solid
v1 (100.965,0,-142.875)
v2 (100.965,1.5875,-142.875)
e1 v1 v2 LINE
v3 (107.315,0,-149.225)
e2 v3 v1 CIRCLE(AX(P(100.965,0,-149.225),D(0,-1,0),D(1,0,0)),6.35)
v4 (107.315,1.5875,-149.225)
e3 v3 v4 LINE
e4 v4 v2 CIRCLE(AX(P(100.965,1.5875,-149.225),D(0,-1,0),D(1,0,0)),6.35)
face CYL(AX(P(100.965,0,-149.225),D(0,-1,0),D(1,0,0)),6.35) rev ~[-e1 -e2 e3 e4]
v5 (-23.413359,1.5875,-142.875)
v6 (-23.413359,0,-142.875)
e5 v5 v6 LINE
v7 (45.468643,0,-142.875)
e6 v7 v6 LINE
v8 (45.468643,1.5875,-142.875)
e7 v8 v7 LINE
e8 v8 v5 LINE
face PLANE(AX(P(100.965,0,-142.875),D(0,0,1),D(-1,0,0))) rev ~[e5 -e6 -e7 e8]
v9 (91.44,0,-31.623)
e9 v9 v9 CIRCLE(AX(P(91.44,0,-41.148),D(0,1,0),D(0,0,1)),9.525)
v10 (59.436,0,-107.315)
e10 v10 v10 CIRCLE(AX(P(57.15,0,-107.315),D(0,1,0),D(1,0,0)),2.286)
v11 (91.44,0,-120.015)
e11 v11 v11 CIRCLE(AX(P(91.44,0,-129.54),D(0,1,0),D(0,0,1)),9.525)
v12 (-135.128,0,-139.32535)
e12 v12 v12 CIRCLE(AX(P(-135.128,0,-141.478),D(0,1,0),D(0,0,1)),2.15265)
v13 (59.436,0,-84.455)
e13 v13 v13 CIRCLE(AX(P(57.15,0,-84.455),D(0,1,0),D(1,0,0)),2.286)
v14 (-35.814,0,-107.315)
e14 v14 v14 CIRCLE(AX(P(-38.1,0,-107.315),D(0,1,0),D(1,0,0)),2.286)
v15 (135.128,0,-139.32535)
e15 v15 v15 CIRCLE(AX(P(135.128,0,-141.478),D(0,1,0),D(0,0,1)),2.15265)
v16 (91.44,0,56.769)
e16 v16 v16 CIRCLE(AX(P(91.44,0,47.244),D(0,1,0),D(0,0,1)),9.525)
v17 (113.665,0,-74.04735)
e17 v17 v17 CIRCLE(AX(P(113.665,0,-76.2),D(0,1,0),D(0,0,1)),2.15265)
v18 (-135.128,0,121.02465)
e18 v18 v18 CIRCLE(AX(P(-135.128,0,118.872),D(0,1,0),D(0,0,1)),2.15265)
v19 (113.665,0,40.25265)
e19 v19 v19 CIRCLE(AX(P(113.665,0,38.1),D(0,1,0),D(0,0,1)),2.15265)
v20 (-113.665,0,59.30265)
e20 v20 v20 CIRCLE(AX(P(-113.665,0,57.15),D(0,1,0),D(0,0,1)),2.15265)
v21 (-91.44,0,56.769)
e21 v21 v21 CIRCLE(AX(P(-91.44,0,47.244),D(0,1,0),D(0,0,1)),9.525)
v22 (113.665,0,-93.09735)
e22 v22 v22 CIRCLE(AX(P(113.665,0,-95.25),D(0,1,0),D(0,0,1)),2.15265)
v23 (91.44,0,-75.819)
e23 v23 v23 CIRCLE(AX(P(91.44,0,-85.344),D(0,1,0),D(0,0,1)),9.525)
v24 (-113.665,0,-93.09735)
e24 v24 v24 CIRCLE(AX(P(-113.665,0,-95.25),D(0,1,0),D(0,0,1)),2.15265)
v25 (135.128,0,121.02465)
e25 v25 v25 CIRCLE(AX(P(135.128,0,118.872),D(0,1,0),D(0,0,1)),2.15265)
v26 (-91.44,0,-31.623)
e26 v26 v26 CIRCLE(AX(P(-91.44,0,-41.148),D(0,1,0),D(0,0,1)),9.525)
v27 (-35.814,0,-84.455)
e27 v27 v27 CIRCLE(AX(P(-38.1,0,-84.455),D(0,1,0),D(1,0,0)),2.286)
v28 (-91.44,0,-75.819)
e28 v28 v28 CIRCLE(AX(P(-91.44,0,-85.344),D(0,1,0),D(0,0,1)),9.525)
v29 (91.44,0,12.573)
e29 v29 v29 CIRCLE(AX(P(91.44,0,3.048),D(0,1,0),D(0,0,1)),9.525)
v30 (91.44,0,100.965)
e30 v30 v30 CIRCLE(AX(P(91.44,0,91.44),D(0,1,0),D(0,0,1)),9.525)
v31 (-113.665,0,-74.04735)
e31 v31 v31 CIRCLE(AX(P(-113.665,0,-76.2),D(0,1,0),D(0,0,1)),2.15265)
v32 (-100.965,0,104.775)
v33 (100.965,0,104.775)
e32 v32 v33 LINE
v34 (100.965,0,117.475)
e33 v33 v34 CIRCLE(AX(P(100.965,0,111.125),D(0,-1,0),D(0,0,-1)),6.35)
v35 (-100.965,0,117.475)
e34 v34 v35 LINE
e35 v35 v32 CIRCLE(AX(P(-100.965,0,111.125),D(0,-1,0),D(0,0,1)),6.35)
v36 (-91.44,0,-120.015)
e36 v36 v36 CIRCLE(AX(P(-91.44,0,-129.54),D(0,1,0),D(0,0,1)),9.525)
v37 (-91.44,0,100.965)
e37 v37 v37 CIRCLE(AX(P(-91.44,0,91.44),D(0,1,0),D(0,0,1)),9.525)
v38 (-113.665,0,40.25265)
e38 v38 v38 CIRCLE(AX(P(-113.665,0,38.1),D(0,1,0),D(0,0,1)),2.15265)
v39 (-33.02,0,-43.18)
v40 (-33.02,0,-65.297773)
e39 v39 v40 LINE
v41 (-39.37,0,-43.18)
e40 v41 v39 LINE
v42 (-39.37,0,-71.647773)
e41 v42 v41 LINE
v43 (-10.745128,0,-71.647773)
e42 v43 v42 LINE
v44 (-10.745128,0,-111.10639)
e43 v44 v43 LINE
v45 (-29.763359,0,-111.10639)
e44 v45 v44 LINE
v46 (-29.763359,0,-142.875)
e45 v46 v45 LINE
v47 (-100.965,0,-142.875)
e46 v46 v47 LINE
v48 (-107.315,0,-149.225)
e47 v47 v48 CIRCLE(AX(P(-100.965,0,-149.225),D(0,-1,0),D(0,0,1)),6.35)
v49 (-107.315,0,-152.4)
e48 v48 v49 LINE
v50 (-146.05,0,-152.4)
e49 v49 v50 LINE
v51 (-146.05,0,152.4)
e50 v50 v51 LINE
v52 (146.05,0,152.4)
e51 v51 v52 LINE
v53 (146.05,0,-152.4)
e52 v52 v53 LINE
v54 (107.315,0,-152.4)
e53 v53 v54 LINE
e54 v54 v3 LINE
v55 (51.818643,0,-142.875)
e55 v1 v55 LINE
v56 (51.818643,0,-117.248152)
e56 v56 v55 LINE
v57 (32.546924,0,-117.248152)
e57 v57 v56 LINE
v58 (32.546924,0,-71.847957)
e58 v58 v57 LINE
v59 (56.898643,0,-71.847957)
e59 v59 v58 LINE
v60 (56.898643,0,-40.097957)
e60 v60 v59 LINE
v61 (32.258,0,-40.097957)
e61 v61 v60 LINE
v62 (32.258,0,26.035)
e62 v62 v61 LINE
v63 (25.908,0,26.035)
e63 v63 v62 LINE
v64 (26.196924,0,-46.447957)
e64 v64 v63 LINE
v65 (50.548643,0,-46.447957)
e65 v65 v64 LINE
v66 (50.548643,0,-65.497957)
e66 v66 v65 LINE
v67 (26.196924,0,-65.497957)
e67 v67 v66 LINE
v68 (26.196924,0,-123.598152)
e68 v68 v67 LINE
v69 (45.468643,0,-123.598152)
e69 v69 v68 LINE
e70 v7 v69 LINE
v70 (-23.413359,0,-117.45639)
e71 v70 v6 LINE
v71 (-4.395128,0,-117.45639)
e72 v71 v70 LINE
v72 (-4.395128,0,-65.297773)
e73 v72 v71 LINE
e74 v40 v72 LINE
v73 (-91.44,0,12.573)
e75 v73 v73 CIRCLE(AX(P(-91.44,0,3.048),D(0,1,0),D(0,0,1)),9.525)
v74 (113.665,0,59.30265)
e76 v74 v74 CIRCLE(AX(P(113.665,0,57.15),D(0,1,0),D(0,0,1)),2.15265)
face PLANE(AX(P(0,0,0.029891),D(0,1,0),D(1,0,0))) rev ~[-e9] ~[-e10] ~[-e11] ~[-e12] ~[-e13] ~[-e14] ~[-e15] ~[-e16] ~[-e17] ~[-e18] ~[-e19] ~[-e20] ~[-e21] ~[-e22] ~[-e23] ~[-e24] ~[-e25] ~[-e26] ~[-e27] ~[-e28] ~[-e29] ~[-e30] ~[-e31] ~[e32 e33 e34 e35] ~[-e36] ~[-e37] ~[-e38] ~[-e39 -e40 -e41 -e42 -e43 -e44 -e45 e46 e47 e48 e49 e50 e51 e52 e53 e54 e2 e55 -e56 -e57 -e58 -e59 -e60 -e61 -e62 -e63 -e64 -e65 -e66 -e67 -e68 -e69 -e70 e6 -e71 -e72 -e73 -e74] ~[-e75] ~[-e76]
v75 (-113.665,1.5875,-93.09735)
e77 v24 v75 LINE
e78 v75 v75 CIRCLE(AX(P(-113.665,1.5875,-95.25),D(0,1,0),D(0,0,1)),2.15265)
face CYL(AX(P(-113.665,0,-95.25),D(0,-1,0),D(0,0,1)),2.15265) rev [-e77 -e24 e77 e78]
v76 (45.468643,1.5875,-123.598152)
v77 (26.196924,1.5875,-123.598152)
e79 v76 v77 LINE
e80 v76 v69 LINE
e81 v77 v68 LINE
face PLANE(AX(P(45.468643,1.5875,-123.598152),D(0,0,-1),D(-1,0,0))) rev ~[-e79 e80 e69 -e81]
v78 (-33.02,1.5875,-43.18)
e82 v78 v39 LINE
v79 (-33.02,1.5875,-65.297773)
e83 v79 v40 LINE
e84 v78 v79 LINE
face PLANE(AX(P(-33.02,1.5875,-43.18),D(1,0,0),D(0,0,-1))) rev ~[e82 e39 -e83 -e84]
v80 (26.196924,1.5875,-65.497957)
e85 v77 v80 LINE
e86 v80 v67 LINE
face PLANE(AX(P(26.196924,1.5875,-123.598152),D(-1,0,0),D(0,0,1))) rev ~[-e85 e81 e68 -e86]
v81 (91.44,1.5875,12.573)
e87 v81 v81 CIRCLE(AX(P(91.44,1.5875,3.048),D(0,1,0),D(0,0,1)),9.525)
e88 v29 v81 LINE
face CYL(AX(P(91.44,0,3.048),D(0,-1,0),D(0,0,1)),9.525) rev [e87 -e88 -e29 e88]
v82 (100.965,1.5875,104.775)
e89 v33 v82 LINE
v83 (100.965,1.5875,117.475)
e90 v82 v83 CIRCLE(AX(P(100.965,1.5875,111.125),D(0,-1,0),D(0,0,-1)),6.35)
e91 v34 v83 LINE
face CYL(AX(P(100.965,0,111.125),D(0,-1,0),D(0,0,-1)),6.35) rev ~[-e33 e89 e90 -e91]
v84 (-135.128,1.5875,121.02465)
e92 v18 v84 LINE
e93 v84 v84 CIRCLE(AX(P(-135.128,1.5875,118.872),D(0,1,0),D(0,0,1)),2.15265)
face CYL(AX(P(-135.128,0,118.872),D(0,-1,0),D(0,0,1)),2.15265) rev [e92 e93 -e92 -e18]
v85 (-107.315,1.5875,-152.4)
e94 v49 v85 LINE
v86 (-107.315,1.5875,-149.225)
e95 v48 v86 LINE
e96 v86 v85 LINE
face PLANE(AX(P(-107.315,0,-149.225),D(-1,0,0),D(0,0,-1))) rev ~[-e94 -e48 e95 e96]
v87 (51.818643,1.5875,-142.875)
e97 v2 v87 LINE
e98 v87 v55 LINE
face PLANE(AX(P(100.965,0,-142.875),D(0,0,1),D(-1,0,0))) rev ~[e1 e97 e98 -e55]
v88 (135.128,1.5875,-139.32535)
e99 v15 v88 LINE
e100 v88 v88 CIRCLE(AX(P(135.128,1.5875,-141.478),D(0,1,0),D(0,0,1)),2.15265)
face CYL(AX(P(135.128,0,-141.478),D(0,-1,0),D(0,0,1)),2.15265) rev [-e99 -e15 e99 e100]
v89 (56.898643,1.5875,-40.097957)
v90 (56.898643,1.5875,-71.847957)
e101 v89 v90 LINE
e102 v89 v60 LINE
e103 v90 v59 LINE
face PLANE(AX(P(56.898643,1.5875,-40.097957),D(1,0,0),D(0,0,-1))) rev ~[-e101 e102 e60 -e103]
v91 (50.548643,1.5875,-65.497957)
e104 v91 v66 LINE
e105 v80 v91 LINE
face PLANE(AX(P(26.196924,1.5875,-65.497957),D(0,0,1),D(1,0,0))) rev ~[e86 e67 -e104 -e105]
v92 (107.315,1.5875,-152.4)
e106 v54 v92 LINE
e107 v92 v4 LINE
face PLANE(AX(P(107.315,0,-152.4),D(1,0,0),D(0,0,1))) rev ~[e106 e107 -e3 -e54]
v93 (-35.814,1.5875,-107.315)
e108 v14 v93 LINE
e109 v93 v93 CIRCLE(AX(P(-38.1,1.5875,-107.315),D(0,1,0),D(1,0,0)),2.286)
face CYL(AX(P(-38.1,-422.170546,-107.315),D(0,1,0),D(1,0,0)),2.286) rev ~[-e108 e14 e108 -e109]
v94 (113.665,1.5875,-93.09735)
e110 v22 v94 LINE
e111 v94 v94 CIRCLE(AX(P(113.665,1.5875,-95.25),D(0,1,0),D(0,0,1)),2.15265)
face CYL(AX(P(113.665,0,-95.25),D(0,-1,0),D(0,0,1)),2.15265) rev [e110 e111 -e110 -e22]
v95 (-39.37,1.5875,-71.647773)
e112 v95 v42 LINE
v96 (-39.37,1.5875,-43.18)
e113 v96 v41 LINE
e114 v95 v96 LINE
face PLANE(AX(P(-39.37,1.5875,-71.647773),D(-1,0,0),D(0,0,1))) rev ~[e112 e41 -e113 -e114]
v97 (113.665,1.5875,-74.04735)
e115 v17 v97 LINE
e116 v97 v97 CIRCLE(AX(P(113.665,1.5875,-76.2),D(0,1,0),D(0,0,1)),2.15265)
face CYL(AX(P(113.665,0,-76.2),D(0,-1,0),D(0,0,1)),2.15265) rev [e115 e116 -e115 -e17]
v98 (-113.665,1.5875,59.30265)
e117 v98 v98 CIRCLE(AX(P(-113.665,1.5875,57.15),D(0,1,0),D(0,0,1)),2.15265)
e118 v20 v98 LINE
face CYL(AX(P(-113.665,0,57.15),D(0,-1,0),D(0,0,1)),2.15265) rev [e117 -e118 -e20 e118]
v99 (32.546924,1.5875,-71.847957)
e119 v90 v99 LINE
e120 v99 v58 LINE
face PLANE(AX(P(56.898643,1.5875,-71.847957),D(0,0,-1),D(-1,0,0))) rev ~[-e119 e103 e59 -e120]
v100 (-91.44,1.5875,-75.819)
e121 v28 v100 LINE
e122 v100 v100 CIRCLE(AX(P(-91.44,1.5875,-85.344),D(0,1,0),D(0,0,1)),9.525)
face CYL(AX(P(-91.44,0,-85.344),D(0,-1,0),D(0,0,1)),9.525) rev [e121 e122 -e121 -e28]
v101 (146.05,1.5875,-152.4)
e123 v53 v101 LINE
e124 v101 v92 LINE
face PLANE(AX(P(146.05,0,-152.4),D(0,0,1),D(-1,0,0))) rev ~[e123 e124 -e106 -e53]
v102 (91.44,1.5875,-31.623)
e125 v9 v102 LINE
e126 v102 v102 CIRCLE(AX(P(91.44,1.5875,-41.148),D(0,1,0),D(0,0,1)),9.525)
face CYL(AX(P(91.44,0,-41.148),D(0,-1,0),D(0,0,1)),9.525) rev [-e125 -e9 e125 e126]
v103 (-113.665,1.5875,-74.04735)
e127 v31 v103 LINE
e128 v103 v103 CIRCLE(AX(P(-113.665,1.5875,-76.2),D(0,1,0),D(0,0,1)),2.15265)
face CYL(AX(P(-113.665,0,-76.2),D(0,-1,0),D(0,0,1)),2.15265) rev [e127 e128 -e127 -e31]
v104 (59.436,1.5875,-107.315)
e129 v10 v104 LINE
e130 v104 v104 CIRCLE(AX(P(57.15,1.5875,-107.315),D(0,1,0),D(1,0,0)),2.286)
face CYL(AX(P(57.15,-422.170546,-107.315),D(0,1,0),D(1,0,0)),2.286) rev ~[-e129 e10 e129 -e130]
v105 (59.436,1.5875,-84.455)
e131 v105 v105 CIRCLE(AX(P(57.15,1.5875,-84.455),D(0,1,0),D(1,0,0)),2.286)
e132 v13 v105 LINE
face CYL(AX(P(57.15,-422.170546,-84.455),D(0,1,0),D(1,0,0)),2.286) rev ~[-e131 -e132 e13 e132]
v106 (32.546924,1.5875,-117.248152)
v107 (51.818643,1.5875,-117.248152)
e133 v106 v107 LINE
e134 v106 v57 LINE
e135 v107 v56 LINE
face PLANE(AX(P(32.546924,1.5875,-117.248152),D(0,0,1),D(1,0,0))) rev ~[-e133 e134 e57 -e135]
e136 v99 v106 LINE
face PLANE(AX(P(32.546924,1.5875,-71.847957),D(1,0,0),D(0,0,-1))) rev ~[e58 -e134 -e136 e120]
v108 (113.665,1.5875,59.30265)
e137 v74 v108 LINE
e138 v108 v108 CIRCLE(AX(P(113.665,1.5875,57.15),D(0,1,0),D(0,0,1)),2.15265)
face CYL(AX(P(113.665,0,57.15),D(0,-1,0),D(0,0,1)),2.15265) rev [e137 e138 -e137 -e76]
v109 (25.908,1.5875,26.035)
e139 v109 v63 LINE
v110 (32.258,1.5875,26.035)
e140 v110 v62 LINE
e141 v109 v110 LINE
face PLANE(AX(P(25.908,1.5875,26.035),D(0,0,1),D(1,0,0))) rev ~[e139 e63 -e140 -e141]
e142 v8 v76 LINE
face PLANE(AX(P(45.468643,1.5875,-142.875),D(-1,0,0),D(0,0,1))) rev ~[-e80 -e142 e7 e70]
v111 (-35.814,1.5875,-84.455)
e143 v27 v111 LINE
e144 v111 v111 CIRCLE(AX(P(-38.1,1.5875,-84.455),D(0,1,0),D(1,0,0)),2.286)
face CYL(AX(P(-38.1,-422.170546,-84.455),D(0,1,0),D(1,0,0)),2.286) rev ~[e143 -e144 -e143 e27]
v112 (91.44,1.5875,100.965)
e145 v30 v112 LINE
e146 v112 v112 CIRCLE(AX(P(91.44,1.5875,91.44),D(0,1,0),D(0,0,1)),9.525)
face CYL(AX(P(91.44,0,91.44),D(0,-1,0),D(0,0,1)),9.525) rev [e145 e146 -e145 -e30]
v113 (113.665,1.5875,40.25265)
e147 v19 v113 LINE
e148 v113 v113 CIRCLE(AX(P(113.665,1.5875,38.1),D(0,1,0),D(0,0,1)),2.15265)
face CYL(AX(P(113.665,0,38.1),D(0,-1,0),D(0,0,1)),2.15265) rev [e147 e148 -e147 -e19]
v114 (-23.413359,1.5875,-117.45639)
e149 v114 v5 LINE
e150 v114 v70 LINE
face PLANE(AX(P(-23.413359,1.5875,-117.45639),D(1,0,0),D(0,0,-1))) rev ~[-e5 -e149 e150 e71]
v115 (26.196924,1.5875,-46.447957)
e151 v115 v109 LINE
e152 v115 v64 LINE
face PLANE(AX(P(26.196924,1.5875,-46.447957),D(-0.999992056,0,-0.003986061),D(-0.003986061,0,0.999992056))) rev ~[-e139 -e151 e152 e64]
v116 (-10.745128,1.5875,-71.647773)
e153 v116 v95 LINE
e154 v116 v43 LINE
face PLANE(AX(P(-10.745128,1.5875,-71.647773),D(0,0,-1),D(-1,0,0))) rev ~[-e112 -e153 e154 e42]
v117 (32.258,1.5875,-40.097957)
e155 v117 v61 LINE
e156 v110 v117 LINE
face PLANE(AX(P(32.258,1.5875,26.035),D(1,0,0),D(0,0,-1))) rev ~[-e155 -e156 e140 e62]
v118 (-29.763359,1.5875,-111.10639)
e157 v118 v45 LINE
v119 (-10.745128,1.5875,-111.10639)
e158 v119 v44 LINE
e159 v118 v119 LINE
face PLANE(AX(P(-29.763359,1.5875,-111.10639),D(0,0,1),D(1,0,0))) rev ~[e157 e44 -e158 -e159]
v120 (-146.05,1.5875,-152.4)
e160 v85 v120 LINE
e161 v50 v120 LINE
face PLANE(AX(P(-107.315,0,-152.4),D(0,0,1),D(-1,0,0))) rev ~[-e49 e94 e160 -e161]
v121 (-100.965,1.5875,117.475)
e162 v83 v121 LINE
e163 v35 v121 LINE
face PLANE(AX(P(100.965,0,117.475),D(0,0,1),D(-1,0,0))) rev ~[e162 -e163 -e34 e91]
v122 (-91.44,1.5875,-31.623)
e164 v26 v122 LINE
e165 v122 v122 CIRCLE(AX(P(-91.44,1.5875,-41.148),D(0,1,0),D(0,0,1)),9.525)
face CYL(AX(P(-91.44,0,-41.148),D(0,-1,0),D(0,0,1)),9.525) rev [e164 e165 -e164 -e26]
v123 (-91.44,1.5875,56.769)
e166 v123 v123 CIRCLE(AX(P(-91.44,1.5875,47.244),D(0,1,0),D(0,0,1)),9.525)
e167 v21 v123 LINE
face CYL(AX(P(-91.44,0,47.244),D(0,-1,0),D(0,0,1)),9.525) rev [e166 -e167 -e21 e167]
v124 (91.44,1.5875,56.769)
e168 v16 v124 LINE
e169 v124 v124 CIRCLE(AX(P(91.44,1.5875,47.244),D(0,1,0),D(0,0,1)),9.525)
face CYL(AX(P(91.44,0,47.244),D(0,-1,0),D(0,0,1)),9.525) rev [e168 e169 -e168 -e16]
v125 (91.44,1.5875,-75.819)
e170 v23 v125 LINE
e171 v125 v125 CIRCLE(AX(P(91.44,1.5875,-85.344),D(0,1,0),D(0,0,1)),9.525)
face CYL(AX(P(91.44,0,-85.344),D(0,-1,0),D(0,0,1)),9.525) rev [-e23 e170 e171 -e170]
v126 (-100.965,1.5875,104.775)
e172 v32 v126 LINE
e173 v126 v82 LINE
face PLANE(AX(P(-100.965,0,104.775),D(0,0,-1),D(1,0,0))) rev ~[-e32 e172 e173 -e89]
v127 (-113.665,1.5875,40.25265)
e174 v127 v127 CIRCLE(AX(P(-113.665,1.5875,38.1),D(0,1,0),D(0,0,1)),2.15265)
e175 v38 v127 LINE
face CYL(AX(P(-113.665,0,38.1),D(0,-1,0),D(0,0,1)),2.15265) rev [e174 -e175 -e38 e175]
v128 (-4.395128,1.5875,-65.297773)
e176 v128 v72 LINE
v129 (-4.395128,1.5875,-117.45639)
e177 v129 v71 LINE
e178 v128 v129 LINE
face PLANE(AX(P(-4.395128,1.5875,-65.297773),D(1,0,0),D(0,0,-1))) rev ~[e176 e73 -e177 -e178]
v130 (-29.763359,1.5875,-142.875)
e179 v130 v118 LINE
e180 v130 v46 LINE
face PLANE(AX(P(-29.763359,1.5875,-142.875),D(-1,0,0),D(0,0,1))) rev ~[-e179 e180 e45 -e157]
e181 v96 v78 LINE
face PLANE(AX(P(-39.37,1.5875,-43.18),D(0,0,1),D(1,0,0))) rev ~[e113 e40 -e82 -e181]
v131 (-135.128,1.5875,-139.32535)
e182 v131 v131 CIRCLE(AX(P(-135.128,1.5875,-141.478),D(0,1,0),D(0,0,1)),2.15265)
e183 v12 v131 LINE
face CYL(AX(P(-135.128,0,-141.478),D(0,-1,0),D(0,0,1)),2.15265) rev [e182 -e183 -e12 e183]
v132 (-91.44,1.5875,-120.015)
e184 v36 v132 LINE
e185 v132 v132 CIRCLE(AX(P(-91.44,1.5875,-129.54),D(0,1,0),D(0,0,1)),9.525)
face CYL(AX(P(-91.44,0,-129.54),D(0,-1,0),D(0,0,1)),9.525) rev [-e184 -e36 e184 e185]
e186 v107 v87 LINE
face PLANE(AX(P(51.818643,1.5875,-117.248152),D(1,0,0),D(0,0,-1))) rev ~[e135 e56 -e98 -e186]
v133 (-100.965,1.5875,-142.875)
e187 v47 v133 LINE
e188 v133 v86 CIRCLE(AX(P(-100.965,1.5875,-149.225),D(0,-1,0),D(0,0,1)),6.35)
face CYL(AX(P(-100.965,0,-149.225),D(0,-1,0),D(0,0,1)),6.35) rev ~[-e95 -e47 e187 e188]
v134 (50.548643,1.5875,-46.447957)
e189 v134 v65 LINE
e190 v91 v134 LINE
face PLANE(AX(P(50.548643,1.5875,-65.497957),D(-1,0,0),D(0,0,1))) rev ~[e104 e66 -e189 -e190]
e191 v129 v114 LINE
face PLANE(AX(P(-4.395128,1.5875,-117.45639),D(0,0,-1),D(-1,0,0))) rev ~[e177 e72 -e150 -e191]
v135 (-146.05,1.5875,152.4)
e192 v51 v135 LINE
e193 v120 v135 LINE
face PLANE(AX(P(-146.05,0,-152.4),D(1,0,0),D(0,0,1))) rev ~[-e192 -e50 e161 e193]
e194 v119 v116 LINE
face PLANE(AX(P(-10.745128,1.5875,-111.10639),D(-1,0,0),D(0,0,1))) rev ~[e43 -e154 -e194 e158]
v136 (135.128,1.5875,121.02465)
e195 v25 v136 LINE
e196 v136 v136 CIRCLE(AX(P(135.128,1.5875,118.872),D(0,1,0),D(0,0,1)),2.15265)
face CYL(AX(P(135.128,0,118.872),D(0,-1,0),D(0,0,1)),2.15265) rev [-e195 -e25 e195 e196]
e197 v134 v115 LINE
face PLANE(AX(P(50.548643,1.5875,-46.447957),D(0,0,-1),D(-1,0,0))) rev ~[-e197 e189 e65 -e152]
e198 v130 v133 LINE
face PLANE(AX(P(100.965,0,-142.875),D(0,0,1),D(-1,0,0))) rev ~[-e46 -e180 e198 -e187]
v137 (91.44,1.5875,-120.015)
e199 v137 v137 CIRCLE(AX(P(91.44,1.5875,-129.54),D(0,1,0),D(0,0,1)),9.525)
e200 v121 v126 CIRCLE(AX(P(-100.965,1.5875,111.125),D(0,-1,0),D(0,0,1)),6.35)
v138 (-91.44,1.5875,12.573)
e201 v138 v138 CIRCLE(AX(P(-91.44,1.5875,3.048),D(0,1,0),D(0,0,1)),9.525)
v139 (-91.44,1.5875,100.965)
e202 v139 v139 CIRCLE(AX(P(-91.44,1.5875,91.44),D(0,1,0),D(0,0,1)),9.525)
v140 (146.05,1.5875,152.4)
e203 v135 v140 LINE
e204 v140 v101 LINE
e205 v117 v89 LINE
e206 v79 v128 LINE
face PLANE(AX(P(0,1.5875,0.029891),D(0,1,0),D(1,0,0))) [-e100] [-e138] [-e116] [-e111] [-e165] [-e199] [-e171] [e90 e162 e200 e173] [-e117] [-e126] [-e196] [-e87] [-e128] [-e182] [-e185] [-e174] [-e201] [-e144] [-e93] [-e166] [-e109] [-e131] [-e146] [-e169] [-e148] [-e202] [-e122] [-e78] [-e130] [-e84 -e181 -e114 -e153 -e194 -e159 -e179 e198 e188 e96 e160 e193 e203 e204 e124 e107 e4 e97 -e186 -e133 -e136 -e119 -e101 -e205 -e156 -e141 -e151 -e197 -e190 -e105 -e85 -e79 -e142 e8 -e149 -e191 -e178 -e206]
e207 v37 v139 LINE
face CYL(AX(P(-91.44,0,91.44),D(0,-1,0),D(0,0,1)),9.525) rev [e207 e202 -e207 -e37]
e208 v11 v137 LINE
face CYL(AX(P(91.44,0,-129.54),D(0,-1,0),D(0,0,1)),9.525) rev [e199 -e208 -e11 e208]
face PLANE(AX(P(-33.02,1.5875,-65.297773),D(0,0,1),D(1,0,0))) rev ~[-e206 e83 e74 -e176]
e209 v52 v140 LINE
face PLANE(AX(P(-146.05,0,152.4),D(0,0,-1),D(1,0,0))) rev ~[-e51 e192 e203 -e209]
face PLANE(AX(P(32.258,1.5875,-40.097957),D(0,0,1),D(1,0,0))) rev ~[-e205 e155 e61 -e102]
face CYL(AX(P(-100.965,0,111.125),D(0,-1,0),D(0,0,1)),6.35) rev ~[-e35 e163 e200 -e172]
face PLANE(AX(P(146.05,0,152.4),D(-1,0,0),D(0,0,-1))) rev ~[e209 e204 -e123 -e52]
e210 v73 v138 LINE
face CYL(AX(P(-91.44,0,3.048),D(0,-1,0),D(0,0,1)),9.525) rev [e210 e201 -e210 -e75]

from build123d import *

# Parameters (mm, degrees)
SKETCH1_R                     = 2.15265
SKETCH1_R_2                   = 9.525
BOSS_EXTRUDE1_DEPTH           = 1.5875
CUT_EXTRUDE1_DEPTH            = 2.54
F_13_64_0_18_DIAMETER_HOLE1_D = 4.572


with BuildPart() as part:
    # Sketch1 → Boss-Extrude1 (new body)
    with BuildSketch(Plane(origin=(0, 0, 0), x_dir=(1, 0, 0), z_dir=(0, 1, 0))):
        with BuildLine():
            Line((-107.315, 152.4), (-146.05, 152.4))
            Line((-146.05, 152.4), (-146.05, -152.4))
            Line((-146.05, -152.4), (146.05, -152.4))
            Line((146.05, -152.4), (146.05, 152.4))
            Line((146.05, 152.4), (107.315, 152.4))
            Line((107.315, 152.4), (107.315, 149.225))
            ThreePointArc((107.315, 149.225), (105.455128061, 144.734871939), (100.965, 142.875))
            Line((100.965, 142.875), (-100.965, 142.875))
            ThreePointArc((-100.965, 142.875), (-105.455128061, 144.734871939), (-107.315, 149.225))
            Line((-107.315, 149.225), (-107.315, 152.4))
        make_face()
        with Locations(Location((-135.128, -118.872, 0), (0, 0, 270))):
            Circle(SKETCH1_R, mode=Mode.SUBTRACT)
        with Locations(Location((-91.44, -91.44, 0), (0, 0, 270))):
            Circle(SKETCH1_R_2, mode=Mode.SUBTRACT)
        with Locations(Location((-113.665, -57.15, 0), (0, 0, 270))):
            Circle(SKETCH1_R, mode=Mode.SUBTRACT)
        with Locations(Location((-113.665, -38.1, 0), (0, 0, 270))):
            Circle(SKETCH1_R, mode=Mode.SUBTRACT)
        with Locations(Location((-91.44, -47.244, 0), (0, 0, 270))):
            Circle(SKETCH1_R_2, mode=Mode.SUBTRACT)
        with Locations(Location((-91.44, -3.048, 0), (0, 0, 270))):
            Circle(SKETCH1_R_2, mode=Mode.SUBTRACT)
        with BuildLine():
            ThreePointArc((-100.965, -117.475), (-107.315, -111.125), (-100.965, -104.775))
            Line((-100.965, -104.775), (100.965, -104.775))
            ThreePointArc((100.965, -104.775), (107.315, -111.125), (100.965, -117.475))
            Line((100.965, -117.475), (-100.965, -117.475))
        make_face(mode=Mode.SUBTRACT)
        with Locations(Location((135.128, -118.872, 0), (0, 0, 270))):
            Circle(SKETCH1_R, mode=Mode.SUBTRACT)
        with Locations(Location((91.44, -91.44, 0), (0, 0, 270))):
            Circle(SKETCH1_R_2, mode=Mode.SUBTRACT)
        with Locations(Location((91.44, -47.244, 0), (0, 0, 270))):
            Circle(SKETCH1_R_2, mode=Mode.SUBTRACT)
        with Locations(Location((113.665, -57.15, 0), (0, 0, 270))):
            Circle(SKETCH1_R, mode=Mode.SUBTRACT)
        with Locations(Location((113.665, -38.1, 0), (0, 0, 270))):
            Circle(SKETCH1_R, mode=Mode.SUBTRACT)
        with Locations(Location((91.44, -3.048, 0), (0, 0, 270))):
            Circle(SKETCH1_R_2, mode=Mode.SUBTRACT)
        with Locations(Location((-113.665, 76.2, 0), (0, 0, 270))):
            Circle(SKETCH1_R, mode=Mode.SUBTRACT)
        with Locations(Location((-91.44, 41.148, 0), (0, 0, 270))):
            Circle(SKETCH1_R_2, mode=Mode.SUBTRACT)
        with Locations(Location((-113.665, 95.25, 0), (0, 0, 270))):
            Circle(SKETCH1_R, mode=Mode.SUBTRACT)
        with Locations(Location((-91.44, 85.344, 0), (0, 0, 270))):
            Circle(SKETCH1_R_2, mode=Mode.SUBTRACT)
        with Locations(Location((-135.128, 141.478, 0), (0, 0, 270))):
            Circle(SKETCH1_R, mode=Mode.SUBTRACT)
        with Locations(Location((-91.44, 129.54, 0), (0, 0, 270))):
            Circle(SKETCH1_R_2, mode=Mode.SUBTRACT)
        with Locations(Location((91.44, 41.148, 0), (0, 0, 270))):
            Circle(SKETCH1_R_2, mode=Mode.SUBTRACT)
        with Locations(Location((113.665, 76.2, 0), (0, 0, 270))):
            Circle(SKETCH1_R, mode=Mode.SUBTRACT)
        with Locations(Location((91.44, 85.344, 0), (0, 0, 270))):
            Circle(SKETCH1_R_2, mode=Mode.SUBTRACT)
        with Locations(Location((113.665, 95.25, 0), (0, 0, 270))):
            Circle(SKETCH1_R, mode=Mode.SUBTRACT)
        with Locations(Location((91.44, 129.54, 0), (0, 0, 270))):
            Circle(SKETCH1_R_2, mode=Mode.SUBTRACT)
        with Locations(Location((135.128, 141.478, 0), (0, 0, 270))):
            Circle(SKETCH1_R, mode=Mode.SUBTRACT)
    extrude(amount=BOSS_EXTRUDE1_DEPTH)

    # Sketch2 → Cut-Extrude1 (cut)
    with BuildSketch(Plane(origin=(0, 1.5875, 0), x_dir=(1, 0, 0), z_dir=(0, 1, 0))):
        Polygon((-23.413358533, 142.875), (-29.763358533, 142.875), (-29.763358533, 116.18638997), (-29.763358533, 111.10638997), (-23.413358533, 111.10638997), (-10.745128401, 111.10638997), (-10.745128401, 80.773994761), (-10.745128401, 71.647772826), (-39.37, 71.647772826), (-39.37, 54.61788987), (-39.37, 43.18), (-33.02, 43.18), (-33.02, 54.61788987), (-33.02, 65.297772826), (-4.395128401, 65.297772826), (-4.395128401, 74.423994761), (-4.395128401, 82.043994761), (-4.395128401, 111.10638997), (-4.395128401, 117.45638997), (-23.413358533, 117.45638997), align=None)
        Polygon((51.818643407, 142.875), (45.468643407, 142.875), (45.468643407, 123.598152459), (26.196923788, 123.598152459), (26.196923788, 117.248152459), (26.196923788, 65.497956958), (50.548643407, 65.497956958), (50.548643407, 46.447956958), (26.196923788, 46.447956958), (25.908, -26.035), (32.258, -26.035), (32.258, -6.148708856), (32.258, -3.919741149), (32.258, 40.097956958), (56.898643407, 40.097956958), (56.898643407, 71.847956958), (32.546923788, 71.847956958), (32.546923788, 117.248152459), (51.818643407, 117.248152459), align=None)
    extrude(amount=-CUT_EXTRUDE1_DEPTH, mode=Mode.SUBTRACT)

    # 13/64 (0.18) Diameter Hole1 (through all)
    with Locations(Plane(origin=(0, 0, 0), x_dir=(-1, 0, 0), z_dir=(0, -1, 0))):
        with Locations((-57.15, 107.315), (-57.15, 84.455), (38.1, 84.455), (38.1, 107.315)):
            Hole(F_13_64_0_18_DIAMETER_HOLE1_D / 2)


solid = part.part
